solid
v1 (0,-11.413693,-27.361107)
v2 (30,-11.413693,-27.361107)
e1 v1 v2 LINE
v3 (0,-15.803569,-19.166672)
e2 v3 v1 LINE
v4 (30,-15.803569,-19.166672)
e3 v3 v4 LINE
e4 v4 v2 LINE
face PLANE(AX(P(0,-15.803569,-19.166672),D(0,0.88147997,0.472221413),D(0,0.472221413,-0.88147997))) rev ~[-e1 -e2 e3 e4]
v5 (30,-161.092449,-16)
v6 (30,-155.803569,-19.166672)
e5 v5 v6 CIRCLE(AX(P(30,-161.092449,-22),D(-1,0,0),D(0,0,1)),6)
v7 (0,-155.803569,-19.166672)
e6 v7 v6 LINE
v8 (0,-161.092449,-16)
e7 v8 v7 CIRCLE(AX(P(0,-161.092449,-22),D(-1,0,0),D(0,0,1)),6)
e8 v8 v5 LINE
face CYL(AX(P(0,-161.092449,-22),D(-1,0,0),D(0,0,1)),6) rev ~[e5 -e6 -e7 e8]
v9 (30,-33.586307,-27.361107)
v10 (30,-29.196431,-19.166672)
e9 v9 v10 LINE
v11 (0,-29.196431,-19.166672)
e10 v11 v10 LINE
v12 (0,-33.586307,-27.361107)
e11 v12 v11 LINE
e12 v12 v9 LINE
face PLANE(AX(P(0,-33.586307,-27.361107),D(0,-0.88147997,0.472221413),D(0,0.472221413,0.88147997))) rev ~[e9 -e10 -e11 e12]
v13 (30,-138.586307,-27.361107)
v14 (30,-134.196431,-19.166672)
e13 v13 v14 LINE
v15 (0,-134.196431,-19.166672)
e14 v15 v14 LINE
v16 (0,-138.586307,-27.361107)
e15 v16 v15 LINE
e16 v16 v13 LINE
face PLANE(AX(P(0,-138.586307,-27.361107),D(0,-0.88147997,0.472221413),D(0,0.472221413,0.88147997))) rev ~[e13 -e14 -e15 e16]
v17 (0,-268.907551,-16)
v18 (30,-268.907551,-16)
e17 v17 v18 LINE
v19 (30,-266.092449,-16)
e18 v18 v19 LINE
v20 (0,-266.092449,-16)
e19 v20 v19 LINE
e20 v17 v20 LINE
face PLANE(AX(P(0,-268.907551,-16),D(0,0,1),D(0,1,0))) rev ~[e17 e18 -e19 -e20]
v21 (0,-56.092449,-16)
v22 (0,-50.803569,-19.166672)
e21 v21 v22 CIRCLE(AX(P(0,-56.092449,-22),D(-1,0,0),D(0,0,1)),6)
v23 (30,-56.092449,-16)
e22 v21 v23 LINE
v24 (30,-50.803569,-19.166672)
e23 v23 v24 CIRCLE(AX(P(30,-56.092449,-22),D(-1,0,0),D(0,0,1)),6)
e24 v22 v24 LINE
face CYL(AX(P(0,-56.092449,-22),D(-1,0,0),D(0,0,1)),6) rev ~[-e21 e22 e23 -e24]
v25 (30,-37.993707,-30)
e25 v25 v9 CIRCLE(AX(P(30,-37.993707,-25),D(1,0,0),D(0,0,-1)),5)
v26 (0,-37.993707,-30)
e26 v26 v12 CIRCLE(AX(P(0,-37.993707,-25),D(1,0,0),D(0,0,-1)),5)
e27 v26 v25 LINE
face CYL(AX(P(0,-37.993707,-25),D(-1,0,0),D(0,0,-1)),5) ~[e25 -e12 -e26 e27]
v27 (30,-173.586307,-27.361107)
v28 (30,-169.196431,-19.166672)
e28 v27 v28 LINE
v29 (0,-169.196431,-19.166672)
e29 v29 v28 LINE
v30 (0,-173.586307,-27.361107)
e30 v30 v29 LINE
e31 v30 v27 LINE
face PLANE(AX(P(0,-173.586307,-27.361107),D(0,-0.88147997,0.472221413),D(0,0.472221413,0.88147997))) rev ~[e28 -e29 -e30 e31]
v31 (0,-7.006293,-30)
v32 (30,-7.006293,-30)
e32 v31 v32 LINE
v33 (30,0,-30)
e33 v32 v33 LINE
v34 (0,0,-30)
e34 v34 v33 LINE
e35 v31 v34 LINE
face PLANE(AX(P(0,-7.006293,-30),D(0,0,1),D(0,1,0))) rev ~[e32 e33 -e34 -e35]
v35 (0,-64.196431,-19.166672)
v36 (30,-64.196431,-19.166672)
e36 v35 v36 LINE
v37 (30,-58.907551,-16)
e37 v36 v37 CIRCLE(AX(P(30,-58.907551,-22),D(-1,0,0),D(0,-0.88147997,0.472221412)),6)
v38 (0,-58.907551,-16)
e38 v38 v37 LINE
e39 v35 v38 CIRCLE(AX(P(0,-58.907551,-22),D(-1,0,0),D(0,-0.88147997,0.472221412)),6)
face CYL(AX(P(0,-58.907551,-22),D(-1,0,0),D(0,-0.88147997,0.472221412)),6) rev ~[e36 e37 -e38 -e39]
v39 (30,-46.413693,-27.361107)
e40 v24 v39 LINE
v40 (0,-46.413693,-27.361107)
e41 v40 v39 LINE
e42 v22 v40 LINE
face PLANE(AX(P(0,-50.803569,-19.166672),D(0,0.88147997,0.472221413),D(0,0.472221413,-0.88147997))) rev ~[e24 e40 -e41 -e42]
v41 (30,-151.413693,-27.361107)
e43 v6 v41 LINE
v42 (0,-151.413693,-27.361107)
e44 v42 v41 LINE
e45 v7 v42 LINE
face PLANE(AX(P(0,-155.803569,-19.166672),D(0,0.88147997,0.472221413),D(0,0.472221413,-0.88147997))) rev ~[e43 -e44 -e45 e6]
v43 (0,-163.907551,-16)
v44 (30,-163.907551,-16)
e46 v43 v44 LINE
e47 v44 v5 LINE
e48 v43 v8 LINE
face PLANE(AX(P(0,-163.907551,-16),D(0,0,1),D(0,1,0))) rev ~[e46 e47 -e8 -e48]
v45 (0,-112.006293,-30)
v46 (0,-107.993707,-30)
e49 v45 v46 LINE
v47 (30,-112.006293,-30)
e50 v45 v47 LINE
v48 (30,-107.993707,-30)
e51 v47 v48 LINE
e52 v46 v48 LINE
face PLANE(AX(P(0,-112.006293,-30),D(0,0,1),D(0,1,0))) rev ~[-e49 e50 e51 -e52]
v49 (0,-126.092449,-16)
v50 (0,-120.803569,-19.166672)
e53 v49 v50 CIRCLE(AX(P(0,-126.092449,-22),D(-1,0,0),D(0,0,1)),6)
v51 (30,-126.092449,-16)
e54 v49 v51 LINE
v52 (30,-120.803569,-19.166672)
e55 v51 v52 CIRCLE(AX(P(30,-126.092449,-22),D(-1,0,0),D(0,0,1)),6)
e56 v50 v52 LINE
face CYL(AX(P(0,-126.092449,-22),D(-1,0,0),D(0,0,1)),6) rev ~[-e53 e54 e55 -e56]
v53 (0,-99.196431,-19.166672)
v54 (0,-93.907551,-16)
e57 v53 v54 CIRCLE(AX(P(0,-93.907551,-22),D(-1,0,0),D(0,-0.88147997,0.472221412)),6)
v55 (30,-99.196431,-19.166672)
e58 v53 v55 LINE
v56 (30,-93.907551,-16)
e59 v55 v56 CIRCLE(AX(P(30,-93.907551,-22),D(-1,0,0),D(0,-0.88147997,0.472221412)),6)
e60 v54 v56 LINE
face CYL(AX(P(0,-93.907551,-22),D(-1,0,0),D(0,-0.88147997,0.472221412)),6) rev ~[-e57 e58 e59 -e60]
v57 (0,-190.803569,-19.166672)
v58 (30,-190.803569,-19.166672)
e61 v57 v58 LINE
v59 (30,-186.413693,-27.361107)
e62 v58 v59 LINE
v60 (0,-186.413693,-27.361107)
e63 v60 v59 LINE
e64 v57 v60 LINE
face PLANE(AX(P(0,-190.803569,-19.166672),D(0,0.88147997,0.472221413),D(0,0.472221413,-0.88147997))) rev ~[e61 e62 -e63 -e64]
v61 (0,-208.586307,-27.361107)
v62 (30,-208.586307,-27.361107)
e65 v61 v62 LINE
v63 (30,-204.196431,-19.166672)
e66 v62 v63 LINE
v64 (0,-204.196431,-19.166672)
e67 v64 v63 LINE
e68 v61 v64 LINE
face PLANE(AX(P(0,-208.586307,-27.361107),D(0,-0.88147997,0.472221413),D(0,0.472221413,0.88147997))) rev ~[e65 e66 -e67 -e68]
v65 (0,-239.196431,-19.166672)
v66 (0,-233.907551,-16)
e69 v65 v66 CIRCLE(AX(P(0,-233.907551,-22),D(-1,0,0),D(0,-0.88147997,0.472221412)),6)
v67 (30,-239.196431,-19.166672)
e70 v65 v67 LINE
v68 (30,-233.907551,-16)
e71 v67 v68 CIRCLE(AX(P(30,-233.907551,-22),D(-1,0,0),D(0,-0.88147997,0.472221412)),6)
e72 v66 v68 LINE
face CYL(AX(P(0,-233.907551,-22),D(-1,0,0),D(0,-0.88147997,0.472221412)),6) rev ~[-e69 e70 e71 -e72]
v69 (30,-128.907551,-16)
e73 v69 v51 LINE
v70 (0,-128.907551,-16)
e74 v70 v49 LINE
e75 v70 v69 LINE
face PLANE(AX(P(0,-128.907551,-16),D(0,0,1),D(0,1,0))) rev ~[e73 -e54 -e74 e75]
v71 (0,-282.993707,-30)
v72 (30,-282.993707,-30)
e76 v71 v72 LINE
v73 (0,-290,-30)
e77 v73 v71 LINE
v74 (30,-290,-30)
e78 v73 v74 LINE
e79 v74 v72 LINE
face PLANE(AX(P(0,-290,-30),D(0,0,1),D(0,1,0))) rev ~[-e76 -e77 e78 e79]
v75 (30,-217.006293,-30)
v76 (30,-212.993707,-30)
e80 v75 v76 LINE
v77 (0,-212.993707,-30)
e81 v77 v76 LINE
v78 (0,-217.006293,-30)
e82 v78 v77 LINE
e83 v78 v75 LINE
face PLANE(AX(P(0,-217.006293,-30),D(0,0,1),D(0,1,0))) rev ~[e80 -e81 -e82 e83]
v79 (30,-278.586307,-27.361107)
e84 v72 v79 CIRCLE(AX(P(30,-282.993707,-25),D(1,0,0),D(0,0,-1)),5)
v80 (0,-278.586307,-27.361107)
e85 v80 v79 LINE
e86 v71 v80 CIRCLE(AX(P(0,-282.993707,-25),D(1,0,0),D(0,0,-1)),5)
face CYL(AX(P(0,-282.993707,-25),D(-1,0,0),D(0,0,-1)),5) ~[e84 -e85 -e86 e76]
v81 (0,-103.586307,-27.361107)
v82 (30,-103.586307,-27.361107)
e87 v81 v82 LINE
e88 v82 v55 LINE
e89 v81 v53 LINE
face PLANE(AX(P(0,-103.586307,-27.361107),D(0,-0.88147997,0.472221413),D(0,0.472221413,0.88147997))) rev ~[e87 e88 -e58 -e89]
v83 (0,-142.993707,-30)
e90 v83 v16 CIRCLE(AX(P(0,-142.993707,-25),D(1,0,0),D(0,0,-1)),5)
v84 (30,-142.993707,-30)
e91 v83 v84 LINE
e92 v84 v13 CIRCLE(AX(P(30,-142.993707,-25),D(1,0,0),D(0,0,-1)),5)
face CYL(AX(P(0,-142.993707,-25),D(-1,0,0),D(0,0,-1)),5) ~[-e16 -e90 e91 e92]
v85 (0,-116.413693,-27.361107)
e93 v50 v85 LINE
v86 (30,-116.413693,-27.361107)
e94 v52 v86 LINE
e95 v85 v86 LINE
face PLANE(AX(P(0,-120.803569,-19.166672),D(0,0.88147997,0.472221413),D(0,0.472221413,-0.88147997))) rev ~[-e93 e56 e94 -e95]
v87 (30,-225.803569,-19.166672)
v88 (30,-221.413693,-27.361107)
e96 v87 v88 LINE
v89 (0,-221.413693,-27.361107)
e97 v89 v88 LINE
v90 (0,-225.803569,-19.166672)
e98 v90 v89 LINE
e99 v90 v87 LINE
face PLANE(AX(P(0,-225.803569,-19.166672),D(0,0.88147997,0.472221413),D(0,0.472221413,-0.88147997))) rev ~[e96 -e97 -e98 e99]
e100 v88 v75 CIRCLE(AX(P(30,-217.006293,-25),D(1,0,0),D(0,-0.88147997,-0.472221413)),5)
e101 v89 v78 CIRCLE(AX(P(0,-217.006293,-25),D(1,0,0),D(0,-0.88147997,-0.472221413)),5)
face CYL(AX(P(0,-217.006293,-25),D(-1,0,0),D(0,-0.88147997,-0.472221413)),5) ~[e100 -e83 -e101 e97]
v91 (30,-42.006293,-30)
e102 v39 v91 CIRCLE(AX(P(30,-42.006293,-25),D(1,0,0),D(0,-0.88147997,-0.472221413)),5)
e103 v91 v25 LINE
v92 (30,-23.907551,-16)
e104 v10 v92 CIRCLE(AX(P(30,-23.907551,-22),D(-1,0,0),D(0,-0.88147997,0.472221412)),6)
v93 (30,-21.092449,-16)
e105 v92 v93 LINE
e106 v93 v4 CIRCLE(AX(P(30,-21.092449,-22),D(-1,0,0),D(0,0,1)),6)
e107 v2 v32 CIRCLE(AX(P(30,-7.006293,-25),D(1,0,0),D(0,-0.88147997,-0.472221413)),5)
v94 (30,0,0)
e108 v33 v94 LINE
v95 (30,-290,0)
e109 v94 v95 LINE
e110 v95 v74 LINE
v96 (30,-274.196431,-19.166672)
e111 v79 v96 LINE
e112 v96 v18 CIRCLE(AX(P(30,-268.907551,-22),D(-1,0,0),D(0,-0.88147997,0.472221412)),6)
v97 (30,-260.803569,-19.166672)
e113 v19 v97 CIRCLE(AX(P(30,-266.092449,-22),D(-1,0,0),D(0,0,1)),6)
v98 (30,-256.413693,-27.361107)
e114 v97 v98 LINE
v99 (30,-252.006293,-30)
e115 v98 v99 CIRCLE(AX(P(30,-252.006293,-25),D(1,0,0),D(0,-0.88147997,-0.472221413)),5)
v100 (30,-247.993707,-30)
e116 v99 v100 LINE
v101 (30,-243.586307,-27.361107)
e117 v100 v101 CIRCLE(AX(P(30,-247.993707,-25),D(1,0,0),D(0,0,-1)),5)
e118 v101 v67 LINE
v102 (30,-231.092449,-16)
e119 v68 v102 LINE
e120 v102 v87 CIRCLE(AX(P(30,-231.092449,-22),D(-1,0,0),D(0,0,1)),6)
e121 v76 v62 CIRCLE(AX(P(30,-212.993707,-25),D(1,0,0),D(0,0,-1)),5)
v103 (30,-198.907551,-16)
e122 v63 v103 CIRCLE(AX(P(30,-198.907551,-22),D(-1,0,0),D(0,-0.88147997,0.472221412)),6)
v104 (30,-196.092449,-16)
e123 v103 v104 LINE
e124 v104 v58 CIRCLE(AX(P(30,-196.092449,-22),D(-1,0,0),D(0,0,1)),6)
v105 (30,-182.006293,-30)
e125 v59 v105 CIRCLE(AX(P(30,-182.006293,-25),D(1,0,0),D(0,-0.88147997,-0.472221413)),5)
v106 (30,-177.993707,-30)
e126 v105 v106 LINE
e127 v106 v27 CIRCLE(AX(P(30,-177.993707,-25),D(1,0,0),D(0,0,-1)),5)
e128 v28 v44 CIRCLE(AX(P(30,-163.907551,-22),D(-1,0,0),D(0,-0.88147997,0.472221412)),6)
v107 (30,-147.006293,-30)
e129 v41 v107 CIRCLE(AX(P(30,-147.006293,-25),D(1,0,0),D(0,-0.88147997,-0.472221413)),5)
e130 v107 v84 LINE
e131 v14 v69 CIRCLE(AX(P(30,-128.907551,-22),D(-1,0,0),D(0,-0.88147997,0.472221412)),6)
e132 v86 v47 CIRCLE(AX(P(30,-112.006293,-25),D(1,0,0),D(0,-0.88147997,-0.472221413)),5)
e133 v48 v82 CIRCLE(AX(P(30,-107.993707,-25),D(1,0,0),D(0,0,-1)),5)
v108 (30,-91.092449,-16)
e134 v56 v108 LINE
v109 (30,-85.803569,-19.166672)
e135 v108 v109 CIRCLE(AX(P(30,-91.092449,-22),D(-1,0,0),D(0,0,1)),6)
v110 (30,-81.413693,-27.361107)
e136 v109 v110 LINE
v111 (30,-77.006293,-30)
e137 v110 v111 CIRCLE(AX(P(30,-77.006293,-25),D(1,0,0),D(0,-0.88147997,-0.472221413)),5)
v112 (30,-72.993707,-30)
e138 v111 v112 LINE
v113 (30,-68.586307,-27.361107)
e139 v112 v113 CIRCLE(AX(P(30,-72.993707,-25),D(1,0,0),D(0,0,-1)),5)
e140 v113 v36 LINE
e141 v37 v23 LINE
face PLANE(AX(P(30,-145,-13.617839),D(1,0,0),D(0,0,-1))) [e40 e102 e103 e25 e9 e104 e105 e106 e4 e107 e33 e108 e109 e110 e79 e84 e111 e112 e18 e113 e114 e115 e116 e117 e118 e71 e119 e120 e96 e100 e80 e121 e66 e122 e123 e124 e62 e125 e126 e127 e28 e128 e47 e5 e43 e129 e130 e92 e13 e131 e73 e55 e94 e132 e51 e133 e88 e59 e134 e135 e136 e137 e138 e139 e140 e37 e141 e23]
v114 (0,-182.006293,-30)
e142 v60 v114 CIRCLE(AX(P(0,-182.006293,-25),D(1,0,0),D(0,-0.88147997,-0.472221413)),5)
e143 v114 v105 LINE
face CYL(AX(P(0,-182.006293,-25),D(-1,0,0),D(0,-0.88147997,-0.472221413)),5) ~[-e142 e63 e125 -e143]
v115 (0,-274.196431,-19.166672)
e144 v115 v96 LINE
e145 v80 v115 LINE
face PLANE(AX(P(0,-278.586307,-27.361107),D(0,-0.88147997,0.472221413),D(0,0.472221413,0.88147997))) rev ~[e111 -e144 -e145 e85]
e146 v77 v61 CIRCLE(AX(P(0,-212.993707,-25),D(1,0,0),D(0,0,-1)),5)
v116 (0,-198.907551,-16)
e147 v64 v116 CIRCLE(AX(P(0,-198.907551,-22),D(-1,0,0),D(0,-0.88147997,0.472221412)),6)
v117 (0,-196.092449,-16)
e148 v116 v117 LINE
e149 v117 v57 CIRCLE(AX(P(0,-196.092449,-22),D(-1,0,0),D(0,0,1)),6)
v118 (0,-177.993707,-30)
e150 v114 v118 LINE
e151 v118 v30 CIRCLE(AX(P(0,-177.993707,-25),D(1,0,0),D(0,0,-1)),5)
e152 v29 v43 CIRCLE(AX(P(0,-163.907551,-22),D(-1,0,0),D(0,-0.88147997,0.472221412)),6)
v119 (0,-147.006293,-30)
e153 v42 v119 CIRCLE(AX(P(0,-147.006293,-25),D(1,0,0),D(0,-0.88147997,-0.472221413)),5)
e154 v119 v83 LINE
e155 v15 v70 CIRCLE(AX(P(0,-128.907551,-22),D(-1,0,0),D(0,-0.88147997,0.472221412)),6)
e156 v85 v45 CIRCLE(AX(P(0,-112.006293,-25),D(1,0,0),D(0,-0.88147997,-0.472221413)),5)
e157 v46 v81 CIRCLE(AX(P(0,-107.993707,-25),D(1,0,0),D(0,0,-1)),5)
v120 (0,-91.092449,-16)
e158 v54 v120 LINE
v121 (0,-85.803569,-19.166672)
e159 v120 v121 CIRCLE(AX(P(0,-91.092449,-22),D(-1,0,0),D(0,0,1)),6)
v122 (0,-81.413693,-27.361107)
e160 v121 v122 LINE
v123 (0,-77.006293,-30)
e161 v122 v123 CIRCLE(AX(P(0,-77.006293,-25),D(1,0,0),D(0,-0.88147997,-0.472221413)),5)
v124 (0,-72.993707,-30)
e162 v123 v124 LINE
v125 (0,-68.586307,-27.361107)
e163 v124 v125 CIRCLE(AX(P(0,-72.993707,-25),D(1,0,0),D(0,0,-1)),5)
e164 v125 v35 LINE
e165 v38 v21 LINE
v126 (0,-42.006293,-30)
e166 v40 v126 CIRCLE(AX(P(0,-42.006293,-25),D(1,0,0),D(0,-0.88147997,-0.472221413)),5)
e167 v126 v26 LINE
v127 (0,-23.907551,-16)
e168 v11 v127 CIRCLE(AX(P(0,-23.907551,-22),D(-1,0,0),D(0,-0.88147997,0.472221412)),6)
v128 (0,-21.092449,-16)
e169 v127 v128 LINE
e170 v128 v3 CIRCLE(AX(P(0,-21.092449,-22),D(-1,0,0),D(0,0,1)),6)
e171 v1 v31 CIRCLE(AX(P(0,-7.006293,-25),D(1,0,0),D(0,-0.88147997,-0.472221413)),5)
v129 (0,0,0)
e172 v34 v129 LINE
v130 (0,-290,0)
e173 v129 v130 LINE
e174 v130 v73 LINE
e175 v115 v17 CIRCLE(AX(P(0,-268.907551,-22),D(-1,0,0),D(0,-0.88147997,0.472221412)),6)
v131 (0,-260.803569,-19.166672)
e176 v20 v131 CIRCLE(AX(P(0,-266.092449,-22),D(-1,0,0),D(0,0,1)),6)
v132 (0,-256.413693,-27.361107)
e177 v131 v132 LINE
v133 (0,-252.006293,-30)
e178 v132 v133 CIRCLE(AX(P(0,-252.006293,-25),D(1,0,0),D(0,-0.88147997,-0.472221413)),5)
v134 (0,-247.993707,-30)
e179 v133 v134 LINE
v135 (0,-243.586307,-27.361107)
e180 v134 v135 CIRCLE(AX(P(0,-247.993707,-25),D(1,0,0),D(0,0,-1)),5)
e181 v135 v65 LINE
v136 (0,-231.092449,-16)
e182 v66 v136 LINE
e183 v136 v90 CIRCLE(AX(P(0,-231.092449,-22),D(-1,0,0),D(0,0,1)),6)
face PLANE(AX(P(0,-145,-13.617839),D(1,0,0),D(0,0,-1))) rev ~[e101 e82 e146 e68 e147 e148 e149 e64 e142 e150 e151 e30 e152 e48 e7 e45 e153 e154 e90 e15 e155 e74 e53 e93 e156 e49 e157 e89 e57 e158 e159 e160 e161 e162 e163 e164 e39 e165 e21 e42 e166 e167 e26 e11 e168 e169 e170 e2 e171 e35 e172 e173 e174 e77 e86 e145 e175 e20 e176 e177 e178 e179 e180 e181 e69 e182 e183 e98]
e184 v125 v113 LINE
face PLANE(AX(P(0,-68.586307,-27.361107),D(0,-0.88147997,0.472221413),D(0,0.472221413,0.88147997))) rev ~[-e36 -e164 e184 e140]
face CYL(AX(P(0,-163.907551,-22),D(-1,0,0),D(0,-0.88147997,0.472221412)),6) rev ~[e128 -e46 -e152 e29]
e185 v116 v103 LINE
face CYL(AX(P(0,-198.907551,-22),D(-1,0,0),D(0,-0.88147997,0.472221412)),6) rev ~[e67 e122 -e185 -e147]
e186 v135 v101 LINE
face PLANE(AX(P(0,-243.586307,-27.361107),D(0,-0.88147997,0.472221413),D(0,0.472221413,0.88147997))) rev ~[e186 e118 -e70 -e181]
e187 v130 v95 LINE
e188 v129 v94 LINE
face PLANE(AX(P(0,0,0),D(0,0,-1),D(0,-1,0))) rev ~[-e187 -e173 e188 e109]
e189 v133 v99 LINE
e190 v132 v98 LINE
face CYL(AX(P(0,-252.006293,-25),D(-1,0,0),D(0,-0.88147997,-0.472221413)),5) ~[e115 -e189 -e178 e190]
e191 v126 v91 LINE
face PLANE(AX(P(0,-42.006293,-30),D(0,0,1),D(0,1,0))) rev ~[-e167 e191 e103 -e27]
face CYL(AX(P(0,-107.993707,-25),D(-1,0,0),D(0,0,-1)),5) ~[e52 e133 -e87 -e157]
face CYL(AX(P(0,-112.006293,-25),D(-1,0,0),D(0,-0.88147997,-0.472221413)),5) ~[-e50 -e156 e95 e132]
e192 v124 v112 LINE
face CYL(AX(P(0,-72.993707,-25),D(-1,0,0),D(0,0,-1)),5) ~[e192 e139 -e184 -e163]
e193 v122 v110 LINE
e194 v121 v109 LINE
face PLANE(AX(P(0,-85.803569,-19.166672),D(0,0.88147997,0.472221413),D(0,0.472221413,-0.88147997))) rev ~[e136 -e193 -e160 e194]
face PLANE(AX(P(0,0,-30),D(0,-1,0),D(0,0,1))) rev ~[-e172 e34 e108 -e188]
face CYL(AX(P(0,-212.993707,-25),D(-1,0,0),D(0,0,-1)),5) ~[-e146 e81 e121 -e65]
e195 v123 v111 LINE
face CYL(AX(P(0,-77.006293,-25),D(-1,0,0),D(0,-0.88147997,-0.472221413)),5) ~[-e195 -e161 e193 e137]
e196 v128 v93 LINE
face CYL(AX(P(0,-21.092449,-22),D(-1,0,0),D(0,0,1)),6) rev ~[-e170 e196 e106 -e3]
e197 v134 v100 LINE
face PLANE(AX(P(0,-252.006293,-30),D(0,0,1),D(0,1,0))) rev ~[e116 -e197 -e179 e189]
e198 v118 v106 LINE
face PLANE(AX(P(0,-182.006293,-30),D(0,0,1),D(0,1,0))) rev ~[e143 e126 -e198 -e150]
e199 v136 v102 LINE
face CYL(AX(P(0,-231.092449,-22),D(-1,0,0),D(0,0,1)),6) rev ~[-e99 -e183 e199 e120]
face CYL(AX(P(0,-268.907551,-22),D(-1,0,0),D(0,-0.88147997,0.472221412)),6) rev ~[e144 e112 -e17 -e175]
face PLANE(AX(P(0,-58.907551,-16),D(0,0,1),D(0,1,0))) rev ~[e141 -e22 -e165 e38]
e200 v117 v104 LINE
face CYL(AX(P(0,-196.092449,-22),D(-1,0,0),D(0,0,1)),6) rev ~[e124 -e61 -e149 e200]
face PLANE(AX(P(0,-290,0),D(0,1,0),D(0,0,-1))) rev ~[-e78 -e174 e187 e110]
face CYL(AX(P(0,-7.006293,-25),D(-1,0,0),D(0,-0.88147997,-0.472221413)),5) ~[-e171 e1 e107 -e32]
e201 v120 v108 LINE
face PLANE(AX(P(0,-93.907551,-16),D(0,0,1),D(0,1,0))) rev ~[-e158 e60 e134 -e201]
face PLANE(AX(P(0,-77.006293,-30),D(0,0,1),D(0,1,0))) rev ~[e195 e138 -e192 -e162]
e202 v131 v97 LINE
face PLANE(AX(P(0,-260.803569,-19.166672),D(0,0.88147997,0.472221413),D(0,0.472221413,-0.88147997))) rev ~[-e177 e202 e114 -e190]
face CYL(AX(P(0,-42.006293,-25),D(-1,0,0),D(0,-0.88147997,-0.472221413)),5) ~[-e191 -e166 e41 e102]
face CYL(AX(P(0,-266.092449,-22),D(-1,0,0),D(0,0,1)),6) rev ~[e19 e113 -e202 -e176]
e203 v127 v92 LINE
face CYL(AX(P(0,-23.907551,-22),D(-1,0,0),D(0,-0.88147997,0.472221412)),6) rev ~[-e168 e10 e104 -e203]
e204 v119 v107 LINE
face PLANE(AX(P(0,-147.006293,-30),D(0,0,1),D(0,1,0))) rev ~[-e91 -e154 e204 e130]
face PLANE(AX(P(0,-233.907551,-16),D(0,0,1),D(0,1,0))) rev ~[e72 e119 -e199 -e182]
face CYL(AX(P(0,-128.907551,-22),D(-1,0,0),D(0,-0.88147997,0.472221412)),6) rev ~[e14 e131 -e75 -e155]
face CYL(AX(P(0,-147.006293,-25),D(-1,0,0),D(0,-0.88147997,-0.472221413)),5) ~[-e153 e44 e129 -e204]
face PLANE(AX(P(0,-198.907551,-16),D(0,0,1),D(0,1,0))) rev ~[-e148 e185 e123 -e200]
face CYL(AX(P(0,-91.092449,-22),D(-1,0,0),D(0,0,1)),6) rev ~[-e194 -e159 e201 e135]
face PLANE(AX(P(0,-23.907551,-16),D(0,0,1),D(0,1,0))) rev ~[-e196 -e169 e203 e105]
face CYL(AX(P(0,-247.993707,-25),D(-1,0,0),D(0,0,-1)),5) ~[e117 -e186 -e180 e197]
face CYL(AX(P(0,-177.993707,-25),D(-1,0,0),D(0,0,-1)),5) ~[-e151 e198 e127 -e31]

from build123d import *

# Parameters (mm, degrees)
RACK_DEPTH = 30


with BuildPart() as part:
    # Sketch1 → RACK (new body)
    with BuildSketch(Plane(origin=(0, 0, 0), x_dir=(0, 0, -1), z_dir=(1, 0, 0))):
        with BuildLine():
            Line((0, 0), (0, -290))
            Line((0, -290), (30, -290))
            Line((30, -290), (30, -282.993707205))
            ThreePointArc((30, -282.993707205), (29.289844712, -280.4251994), (27.361107063, -278.586307355))
            Line((27.361107063, -278.586307355), (19.166671525, -274.196431174))
            ThreePointArc((19.166671525, -274.196431174), (16.852186345, -271.98976072), (16, -268.907551354))
            Line((16, -268.907551354), (16, -266.092448646))
            ThreePointArc((16, -266.092448646), (16.852186345, -263.01023928), (19.166671525, -260.803568826))
            Line((19.166671525, -260.803568826), (27.361107063, -256.413692645))
            ThreePointArc((27.361107063, -256.413692645), (29.289844712, -254.5748006), (30, -252.006292795))
            Line((30, -252.006292795), (30, -247.993707205))
            ThreePointArc((30, -247.993707205), (29.289844712, -245.4251994), (27.361107063, -243.586307355))
            Line((27.361107063, -243.586307355), (19.166671525, -239.196431174))
            ThreePointArc((19.166671525, -239.196431174), (16.852186345, -236.98976072), (16, -233.907551354))
            Line((16, -233.907551354), (16, -231.092448646))
            ThreePointArc((16, -231.092448646), (16.852186345, -228.01023928), (19.166671525, -225.803568826))
            Line((19.166671525, -225.803568826), (27.361107063, -221.413692645))
            ThreePointArc((27.361107063, -221.413692645), (29.289844712, -219.5748006), (30, -217.006292795))
            Line((30, -217.006292795), (30, -212.993707205))
            ThreePointArc((30, -212.993707205), (29.289844712, -210.4251994), (27.361107063, -208.586307355))
            Line((27.361107063, -208.586307355), (19.166671525, -204.196431174))
            ThreePointArc((19.166671525, -204.196431174), (16.852186345, -201.98976072), (16, -198.907551354))
            Line((16, -198.907551354), (16, -196.092448646))
            ThreePointArc((16, -196.092448646), (16.852186345, -193.01023928), (19.166671525, -190.803568826))
            Line((19.166671525, -190.803568826), (27.361107063, -186.413692645))
            ThreePointArc((27.361107063, -186.413692645), (29.289844712, -184.5748006), (30, -182.006292795))
            Line((30, -182.006292795), (30, -177.993707205))
            ThreePointArc((30, -177.993707205), (29.289844712, -175.4251994), (27.361107063, -173.586307355))
            Line((27.361107063, -173.586307355), (19.166671525, -169.196431174))
            ThreePointArc((19.166671525, -169.196431174), (16.852186345, -166.98976072), (16, -163.907551354))
            Line((16, -163.907551354), (16, -161.092448646))
            ThreePointArc((16, -161.092448646), (16.852186345, -158.01023928), (19.166671525, -155.803568826))
            Line((19.166671525, -155.803568826), (27.361107063, -151.413692645))
            ThreePointArc((27.361107063, -151.413692645), (29.289844712, -149.5748006), (30, -147.006292795))
            Line((30, -147.006292795), (30, -142.993707205))
            ThreePointArc((30, -142.993707205), (29.289844712, -140.4251994), (27.361107063, -138.586307355))
            Line((27.361107063, -138.586307355), (19.166671525, -134.196431174))
            ThreePointArc((19.166671525, -134.196431174), (16.852186345, -131.98976072), (16, -128.907551354))
            Line((16, -128.907551354), (16, -126.092448646))
            ThreePointArc((16, -126.092448646), (16.852186345, -123.01023928), (19.166671525, -120.803568826))
            Line((19.166671525, -120.803568826), (27.361107063, -116.413692645))
            ThreePointArc((27.361107063, -116.413692645), (29.289844712, -114.5748006), (30, -112.006292795))
            Line((30, -112.006292795), (30, -107.993707205))
            ThreePointArc((30, -107.993707205), (29.289844712, -105.4251994), (27.361107063, -103.586307355))
            Line((27.361107063, -103.586307355), (19.166671525, -99.196431174))
            ThreePointArc((19.166671525, -99.196431174), (16.852186345, -96.98976072), (16, -93.907551354))
            Line((16, -93.907551354), (16, -91.092448646))
            ThreePointArc((16, -91.092448646), (16.852186345, -88.01023928), (19.166671525, -85.803568826))
            Line((19.166671525, -85.803568826), (27.361107063, -81.413692645))
            ThreePointArc((27.361107063, -81.413692645), (29.289844712, -79.5748006), (30, -77.006292795))
            Line((30, -77.006292795), (30, -72.993707205))
            ThreePointArc((30, -72.993707205), (29.289844712, -70.4251994), (27.361107063, -68.586307355))
            Line((27.361107063, -68.586307355), (19.166671525, -64.196431174))
            ThreePointArc((19.166671525, -64.196431174), (16.852186345, -61.98976072), (16, -58.907551354))
            Line((16, -58.907551354), (16, -56.092448646))
            ThreePointArc((16, -56.092448646), (16.852186345, -53.01023928), (19.166671525, -50.803568826))
            Line((19.166671525, -50.803568826), (27.361107063, -46.413692645))
            ThreePointArc((27.361107063, -46.413692645), (29.289844712, -44.5748006), (30, -42.006292795))
            Line((30, -42.006292795), (30, -37.993707205))
            ThreePointArc((30, -37.993707205), (29.289844712, -35.4251994), (27.361107063, -33.586307355))
            Line((27.361107063, -33.586307355), (19.166671525, -29.196431174))
            ThreePointArc((19.166671525, -29.196431174), (16.852186345, -26.98976072), (16, -23.907551354))
            Line((16, -23.907551354), (16, -21.092448646))
            ThreePointArc((16, -21.092448646), (16.852186345, -18.01023928), (19.166671525, -15.803568826))
            Line((19.166671525, -15.803568826), (27.361107063, -11.413692645))
            ThreePointArc((27.361107063, -11.413692645), (29.289844712, -9.5748006), (30, -7.006292795))
            Line((30, -7.006292795), (30, 0))
            Line((30, 0), (0, 0))
        make_face()
    extrude(amount=RACK_DEPTH)


solid = part.part
